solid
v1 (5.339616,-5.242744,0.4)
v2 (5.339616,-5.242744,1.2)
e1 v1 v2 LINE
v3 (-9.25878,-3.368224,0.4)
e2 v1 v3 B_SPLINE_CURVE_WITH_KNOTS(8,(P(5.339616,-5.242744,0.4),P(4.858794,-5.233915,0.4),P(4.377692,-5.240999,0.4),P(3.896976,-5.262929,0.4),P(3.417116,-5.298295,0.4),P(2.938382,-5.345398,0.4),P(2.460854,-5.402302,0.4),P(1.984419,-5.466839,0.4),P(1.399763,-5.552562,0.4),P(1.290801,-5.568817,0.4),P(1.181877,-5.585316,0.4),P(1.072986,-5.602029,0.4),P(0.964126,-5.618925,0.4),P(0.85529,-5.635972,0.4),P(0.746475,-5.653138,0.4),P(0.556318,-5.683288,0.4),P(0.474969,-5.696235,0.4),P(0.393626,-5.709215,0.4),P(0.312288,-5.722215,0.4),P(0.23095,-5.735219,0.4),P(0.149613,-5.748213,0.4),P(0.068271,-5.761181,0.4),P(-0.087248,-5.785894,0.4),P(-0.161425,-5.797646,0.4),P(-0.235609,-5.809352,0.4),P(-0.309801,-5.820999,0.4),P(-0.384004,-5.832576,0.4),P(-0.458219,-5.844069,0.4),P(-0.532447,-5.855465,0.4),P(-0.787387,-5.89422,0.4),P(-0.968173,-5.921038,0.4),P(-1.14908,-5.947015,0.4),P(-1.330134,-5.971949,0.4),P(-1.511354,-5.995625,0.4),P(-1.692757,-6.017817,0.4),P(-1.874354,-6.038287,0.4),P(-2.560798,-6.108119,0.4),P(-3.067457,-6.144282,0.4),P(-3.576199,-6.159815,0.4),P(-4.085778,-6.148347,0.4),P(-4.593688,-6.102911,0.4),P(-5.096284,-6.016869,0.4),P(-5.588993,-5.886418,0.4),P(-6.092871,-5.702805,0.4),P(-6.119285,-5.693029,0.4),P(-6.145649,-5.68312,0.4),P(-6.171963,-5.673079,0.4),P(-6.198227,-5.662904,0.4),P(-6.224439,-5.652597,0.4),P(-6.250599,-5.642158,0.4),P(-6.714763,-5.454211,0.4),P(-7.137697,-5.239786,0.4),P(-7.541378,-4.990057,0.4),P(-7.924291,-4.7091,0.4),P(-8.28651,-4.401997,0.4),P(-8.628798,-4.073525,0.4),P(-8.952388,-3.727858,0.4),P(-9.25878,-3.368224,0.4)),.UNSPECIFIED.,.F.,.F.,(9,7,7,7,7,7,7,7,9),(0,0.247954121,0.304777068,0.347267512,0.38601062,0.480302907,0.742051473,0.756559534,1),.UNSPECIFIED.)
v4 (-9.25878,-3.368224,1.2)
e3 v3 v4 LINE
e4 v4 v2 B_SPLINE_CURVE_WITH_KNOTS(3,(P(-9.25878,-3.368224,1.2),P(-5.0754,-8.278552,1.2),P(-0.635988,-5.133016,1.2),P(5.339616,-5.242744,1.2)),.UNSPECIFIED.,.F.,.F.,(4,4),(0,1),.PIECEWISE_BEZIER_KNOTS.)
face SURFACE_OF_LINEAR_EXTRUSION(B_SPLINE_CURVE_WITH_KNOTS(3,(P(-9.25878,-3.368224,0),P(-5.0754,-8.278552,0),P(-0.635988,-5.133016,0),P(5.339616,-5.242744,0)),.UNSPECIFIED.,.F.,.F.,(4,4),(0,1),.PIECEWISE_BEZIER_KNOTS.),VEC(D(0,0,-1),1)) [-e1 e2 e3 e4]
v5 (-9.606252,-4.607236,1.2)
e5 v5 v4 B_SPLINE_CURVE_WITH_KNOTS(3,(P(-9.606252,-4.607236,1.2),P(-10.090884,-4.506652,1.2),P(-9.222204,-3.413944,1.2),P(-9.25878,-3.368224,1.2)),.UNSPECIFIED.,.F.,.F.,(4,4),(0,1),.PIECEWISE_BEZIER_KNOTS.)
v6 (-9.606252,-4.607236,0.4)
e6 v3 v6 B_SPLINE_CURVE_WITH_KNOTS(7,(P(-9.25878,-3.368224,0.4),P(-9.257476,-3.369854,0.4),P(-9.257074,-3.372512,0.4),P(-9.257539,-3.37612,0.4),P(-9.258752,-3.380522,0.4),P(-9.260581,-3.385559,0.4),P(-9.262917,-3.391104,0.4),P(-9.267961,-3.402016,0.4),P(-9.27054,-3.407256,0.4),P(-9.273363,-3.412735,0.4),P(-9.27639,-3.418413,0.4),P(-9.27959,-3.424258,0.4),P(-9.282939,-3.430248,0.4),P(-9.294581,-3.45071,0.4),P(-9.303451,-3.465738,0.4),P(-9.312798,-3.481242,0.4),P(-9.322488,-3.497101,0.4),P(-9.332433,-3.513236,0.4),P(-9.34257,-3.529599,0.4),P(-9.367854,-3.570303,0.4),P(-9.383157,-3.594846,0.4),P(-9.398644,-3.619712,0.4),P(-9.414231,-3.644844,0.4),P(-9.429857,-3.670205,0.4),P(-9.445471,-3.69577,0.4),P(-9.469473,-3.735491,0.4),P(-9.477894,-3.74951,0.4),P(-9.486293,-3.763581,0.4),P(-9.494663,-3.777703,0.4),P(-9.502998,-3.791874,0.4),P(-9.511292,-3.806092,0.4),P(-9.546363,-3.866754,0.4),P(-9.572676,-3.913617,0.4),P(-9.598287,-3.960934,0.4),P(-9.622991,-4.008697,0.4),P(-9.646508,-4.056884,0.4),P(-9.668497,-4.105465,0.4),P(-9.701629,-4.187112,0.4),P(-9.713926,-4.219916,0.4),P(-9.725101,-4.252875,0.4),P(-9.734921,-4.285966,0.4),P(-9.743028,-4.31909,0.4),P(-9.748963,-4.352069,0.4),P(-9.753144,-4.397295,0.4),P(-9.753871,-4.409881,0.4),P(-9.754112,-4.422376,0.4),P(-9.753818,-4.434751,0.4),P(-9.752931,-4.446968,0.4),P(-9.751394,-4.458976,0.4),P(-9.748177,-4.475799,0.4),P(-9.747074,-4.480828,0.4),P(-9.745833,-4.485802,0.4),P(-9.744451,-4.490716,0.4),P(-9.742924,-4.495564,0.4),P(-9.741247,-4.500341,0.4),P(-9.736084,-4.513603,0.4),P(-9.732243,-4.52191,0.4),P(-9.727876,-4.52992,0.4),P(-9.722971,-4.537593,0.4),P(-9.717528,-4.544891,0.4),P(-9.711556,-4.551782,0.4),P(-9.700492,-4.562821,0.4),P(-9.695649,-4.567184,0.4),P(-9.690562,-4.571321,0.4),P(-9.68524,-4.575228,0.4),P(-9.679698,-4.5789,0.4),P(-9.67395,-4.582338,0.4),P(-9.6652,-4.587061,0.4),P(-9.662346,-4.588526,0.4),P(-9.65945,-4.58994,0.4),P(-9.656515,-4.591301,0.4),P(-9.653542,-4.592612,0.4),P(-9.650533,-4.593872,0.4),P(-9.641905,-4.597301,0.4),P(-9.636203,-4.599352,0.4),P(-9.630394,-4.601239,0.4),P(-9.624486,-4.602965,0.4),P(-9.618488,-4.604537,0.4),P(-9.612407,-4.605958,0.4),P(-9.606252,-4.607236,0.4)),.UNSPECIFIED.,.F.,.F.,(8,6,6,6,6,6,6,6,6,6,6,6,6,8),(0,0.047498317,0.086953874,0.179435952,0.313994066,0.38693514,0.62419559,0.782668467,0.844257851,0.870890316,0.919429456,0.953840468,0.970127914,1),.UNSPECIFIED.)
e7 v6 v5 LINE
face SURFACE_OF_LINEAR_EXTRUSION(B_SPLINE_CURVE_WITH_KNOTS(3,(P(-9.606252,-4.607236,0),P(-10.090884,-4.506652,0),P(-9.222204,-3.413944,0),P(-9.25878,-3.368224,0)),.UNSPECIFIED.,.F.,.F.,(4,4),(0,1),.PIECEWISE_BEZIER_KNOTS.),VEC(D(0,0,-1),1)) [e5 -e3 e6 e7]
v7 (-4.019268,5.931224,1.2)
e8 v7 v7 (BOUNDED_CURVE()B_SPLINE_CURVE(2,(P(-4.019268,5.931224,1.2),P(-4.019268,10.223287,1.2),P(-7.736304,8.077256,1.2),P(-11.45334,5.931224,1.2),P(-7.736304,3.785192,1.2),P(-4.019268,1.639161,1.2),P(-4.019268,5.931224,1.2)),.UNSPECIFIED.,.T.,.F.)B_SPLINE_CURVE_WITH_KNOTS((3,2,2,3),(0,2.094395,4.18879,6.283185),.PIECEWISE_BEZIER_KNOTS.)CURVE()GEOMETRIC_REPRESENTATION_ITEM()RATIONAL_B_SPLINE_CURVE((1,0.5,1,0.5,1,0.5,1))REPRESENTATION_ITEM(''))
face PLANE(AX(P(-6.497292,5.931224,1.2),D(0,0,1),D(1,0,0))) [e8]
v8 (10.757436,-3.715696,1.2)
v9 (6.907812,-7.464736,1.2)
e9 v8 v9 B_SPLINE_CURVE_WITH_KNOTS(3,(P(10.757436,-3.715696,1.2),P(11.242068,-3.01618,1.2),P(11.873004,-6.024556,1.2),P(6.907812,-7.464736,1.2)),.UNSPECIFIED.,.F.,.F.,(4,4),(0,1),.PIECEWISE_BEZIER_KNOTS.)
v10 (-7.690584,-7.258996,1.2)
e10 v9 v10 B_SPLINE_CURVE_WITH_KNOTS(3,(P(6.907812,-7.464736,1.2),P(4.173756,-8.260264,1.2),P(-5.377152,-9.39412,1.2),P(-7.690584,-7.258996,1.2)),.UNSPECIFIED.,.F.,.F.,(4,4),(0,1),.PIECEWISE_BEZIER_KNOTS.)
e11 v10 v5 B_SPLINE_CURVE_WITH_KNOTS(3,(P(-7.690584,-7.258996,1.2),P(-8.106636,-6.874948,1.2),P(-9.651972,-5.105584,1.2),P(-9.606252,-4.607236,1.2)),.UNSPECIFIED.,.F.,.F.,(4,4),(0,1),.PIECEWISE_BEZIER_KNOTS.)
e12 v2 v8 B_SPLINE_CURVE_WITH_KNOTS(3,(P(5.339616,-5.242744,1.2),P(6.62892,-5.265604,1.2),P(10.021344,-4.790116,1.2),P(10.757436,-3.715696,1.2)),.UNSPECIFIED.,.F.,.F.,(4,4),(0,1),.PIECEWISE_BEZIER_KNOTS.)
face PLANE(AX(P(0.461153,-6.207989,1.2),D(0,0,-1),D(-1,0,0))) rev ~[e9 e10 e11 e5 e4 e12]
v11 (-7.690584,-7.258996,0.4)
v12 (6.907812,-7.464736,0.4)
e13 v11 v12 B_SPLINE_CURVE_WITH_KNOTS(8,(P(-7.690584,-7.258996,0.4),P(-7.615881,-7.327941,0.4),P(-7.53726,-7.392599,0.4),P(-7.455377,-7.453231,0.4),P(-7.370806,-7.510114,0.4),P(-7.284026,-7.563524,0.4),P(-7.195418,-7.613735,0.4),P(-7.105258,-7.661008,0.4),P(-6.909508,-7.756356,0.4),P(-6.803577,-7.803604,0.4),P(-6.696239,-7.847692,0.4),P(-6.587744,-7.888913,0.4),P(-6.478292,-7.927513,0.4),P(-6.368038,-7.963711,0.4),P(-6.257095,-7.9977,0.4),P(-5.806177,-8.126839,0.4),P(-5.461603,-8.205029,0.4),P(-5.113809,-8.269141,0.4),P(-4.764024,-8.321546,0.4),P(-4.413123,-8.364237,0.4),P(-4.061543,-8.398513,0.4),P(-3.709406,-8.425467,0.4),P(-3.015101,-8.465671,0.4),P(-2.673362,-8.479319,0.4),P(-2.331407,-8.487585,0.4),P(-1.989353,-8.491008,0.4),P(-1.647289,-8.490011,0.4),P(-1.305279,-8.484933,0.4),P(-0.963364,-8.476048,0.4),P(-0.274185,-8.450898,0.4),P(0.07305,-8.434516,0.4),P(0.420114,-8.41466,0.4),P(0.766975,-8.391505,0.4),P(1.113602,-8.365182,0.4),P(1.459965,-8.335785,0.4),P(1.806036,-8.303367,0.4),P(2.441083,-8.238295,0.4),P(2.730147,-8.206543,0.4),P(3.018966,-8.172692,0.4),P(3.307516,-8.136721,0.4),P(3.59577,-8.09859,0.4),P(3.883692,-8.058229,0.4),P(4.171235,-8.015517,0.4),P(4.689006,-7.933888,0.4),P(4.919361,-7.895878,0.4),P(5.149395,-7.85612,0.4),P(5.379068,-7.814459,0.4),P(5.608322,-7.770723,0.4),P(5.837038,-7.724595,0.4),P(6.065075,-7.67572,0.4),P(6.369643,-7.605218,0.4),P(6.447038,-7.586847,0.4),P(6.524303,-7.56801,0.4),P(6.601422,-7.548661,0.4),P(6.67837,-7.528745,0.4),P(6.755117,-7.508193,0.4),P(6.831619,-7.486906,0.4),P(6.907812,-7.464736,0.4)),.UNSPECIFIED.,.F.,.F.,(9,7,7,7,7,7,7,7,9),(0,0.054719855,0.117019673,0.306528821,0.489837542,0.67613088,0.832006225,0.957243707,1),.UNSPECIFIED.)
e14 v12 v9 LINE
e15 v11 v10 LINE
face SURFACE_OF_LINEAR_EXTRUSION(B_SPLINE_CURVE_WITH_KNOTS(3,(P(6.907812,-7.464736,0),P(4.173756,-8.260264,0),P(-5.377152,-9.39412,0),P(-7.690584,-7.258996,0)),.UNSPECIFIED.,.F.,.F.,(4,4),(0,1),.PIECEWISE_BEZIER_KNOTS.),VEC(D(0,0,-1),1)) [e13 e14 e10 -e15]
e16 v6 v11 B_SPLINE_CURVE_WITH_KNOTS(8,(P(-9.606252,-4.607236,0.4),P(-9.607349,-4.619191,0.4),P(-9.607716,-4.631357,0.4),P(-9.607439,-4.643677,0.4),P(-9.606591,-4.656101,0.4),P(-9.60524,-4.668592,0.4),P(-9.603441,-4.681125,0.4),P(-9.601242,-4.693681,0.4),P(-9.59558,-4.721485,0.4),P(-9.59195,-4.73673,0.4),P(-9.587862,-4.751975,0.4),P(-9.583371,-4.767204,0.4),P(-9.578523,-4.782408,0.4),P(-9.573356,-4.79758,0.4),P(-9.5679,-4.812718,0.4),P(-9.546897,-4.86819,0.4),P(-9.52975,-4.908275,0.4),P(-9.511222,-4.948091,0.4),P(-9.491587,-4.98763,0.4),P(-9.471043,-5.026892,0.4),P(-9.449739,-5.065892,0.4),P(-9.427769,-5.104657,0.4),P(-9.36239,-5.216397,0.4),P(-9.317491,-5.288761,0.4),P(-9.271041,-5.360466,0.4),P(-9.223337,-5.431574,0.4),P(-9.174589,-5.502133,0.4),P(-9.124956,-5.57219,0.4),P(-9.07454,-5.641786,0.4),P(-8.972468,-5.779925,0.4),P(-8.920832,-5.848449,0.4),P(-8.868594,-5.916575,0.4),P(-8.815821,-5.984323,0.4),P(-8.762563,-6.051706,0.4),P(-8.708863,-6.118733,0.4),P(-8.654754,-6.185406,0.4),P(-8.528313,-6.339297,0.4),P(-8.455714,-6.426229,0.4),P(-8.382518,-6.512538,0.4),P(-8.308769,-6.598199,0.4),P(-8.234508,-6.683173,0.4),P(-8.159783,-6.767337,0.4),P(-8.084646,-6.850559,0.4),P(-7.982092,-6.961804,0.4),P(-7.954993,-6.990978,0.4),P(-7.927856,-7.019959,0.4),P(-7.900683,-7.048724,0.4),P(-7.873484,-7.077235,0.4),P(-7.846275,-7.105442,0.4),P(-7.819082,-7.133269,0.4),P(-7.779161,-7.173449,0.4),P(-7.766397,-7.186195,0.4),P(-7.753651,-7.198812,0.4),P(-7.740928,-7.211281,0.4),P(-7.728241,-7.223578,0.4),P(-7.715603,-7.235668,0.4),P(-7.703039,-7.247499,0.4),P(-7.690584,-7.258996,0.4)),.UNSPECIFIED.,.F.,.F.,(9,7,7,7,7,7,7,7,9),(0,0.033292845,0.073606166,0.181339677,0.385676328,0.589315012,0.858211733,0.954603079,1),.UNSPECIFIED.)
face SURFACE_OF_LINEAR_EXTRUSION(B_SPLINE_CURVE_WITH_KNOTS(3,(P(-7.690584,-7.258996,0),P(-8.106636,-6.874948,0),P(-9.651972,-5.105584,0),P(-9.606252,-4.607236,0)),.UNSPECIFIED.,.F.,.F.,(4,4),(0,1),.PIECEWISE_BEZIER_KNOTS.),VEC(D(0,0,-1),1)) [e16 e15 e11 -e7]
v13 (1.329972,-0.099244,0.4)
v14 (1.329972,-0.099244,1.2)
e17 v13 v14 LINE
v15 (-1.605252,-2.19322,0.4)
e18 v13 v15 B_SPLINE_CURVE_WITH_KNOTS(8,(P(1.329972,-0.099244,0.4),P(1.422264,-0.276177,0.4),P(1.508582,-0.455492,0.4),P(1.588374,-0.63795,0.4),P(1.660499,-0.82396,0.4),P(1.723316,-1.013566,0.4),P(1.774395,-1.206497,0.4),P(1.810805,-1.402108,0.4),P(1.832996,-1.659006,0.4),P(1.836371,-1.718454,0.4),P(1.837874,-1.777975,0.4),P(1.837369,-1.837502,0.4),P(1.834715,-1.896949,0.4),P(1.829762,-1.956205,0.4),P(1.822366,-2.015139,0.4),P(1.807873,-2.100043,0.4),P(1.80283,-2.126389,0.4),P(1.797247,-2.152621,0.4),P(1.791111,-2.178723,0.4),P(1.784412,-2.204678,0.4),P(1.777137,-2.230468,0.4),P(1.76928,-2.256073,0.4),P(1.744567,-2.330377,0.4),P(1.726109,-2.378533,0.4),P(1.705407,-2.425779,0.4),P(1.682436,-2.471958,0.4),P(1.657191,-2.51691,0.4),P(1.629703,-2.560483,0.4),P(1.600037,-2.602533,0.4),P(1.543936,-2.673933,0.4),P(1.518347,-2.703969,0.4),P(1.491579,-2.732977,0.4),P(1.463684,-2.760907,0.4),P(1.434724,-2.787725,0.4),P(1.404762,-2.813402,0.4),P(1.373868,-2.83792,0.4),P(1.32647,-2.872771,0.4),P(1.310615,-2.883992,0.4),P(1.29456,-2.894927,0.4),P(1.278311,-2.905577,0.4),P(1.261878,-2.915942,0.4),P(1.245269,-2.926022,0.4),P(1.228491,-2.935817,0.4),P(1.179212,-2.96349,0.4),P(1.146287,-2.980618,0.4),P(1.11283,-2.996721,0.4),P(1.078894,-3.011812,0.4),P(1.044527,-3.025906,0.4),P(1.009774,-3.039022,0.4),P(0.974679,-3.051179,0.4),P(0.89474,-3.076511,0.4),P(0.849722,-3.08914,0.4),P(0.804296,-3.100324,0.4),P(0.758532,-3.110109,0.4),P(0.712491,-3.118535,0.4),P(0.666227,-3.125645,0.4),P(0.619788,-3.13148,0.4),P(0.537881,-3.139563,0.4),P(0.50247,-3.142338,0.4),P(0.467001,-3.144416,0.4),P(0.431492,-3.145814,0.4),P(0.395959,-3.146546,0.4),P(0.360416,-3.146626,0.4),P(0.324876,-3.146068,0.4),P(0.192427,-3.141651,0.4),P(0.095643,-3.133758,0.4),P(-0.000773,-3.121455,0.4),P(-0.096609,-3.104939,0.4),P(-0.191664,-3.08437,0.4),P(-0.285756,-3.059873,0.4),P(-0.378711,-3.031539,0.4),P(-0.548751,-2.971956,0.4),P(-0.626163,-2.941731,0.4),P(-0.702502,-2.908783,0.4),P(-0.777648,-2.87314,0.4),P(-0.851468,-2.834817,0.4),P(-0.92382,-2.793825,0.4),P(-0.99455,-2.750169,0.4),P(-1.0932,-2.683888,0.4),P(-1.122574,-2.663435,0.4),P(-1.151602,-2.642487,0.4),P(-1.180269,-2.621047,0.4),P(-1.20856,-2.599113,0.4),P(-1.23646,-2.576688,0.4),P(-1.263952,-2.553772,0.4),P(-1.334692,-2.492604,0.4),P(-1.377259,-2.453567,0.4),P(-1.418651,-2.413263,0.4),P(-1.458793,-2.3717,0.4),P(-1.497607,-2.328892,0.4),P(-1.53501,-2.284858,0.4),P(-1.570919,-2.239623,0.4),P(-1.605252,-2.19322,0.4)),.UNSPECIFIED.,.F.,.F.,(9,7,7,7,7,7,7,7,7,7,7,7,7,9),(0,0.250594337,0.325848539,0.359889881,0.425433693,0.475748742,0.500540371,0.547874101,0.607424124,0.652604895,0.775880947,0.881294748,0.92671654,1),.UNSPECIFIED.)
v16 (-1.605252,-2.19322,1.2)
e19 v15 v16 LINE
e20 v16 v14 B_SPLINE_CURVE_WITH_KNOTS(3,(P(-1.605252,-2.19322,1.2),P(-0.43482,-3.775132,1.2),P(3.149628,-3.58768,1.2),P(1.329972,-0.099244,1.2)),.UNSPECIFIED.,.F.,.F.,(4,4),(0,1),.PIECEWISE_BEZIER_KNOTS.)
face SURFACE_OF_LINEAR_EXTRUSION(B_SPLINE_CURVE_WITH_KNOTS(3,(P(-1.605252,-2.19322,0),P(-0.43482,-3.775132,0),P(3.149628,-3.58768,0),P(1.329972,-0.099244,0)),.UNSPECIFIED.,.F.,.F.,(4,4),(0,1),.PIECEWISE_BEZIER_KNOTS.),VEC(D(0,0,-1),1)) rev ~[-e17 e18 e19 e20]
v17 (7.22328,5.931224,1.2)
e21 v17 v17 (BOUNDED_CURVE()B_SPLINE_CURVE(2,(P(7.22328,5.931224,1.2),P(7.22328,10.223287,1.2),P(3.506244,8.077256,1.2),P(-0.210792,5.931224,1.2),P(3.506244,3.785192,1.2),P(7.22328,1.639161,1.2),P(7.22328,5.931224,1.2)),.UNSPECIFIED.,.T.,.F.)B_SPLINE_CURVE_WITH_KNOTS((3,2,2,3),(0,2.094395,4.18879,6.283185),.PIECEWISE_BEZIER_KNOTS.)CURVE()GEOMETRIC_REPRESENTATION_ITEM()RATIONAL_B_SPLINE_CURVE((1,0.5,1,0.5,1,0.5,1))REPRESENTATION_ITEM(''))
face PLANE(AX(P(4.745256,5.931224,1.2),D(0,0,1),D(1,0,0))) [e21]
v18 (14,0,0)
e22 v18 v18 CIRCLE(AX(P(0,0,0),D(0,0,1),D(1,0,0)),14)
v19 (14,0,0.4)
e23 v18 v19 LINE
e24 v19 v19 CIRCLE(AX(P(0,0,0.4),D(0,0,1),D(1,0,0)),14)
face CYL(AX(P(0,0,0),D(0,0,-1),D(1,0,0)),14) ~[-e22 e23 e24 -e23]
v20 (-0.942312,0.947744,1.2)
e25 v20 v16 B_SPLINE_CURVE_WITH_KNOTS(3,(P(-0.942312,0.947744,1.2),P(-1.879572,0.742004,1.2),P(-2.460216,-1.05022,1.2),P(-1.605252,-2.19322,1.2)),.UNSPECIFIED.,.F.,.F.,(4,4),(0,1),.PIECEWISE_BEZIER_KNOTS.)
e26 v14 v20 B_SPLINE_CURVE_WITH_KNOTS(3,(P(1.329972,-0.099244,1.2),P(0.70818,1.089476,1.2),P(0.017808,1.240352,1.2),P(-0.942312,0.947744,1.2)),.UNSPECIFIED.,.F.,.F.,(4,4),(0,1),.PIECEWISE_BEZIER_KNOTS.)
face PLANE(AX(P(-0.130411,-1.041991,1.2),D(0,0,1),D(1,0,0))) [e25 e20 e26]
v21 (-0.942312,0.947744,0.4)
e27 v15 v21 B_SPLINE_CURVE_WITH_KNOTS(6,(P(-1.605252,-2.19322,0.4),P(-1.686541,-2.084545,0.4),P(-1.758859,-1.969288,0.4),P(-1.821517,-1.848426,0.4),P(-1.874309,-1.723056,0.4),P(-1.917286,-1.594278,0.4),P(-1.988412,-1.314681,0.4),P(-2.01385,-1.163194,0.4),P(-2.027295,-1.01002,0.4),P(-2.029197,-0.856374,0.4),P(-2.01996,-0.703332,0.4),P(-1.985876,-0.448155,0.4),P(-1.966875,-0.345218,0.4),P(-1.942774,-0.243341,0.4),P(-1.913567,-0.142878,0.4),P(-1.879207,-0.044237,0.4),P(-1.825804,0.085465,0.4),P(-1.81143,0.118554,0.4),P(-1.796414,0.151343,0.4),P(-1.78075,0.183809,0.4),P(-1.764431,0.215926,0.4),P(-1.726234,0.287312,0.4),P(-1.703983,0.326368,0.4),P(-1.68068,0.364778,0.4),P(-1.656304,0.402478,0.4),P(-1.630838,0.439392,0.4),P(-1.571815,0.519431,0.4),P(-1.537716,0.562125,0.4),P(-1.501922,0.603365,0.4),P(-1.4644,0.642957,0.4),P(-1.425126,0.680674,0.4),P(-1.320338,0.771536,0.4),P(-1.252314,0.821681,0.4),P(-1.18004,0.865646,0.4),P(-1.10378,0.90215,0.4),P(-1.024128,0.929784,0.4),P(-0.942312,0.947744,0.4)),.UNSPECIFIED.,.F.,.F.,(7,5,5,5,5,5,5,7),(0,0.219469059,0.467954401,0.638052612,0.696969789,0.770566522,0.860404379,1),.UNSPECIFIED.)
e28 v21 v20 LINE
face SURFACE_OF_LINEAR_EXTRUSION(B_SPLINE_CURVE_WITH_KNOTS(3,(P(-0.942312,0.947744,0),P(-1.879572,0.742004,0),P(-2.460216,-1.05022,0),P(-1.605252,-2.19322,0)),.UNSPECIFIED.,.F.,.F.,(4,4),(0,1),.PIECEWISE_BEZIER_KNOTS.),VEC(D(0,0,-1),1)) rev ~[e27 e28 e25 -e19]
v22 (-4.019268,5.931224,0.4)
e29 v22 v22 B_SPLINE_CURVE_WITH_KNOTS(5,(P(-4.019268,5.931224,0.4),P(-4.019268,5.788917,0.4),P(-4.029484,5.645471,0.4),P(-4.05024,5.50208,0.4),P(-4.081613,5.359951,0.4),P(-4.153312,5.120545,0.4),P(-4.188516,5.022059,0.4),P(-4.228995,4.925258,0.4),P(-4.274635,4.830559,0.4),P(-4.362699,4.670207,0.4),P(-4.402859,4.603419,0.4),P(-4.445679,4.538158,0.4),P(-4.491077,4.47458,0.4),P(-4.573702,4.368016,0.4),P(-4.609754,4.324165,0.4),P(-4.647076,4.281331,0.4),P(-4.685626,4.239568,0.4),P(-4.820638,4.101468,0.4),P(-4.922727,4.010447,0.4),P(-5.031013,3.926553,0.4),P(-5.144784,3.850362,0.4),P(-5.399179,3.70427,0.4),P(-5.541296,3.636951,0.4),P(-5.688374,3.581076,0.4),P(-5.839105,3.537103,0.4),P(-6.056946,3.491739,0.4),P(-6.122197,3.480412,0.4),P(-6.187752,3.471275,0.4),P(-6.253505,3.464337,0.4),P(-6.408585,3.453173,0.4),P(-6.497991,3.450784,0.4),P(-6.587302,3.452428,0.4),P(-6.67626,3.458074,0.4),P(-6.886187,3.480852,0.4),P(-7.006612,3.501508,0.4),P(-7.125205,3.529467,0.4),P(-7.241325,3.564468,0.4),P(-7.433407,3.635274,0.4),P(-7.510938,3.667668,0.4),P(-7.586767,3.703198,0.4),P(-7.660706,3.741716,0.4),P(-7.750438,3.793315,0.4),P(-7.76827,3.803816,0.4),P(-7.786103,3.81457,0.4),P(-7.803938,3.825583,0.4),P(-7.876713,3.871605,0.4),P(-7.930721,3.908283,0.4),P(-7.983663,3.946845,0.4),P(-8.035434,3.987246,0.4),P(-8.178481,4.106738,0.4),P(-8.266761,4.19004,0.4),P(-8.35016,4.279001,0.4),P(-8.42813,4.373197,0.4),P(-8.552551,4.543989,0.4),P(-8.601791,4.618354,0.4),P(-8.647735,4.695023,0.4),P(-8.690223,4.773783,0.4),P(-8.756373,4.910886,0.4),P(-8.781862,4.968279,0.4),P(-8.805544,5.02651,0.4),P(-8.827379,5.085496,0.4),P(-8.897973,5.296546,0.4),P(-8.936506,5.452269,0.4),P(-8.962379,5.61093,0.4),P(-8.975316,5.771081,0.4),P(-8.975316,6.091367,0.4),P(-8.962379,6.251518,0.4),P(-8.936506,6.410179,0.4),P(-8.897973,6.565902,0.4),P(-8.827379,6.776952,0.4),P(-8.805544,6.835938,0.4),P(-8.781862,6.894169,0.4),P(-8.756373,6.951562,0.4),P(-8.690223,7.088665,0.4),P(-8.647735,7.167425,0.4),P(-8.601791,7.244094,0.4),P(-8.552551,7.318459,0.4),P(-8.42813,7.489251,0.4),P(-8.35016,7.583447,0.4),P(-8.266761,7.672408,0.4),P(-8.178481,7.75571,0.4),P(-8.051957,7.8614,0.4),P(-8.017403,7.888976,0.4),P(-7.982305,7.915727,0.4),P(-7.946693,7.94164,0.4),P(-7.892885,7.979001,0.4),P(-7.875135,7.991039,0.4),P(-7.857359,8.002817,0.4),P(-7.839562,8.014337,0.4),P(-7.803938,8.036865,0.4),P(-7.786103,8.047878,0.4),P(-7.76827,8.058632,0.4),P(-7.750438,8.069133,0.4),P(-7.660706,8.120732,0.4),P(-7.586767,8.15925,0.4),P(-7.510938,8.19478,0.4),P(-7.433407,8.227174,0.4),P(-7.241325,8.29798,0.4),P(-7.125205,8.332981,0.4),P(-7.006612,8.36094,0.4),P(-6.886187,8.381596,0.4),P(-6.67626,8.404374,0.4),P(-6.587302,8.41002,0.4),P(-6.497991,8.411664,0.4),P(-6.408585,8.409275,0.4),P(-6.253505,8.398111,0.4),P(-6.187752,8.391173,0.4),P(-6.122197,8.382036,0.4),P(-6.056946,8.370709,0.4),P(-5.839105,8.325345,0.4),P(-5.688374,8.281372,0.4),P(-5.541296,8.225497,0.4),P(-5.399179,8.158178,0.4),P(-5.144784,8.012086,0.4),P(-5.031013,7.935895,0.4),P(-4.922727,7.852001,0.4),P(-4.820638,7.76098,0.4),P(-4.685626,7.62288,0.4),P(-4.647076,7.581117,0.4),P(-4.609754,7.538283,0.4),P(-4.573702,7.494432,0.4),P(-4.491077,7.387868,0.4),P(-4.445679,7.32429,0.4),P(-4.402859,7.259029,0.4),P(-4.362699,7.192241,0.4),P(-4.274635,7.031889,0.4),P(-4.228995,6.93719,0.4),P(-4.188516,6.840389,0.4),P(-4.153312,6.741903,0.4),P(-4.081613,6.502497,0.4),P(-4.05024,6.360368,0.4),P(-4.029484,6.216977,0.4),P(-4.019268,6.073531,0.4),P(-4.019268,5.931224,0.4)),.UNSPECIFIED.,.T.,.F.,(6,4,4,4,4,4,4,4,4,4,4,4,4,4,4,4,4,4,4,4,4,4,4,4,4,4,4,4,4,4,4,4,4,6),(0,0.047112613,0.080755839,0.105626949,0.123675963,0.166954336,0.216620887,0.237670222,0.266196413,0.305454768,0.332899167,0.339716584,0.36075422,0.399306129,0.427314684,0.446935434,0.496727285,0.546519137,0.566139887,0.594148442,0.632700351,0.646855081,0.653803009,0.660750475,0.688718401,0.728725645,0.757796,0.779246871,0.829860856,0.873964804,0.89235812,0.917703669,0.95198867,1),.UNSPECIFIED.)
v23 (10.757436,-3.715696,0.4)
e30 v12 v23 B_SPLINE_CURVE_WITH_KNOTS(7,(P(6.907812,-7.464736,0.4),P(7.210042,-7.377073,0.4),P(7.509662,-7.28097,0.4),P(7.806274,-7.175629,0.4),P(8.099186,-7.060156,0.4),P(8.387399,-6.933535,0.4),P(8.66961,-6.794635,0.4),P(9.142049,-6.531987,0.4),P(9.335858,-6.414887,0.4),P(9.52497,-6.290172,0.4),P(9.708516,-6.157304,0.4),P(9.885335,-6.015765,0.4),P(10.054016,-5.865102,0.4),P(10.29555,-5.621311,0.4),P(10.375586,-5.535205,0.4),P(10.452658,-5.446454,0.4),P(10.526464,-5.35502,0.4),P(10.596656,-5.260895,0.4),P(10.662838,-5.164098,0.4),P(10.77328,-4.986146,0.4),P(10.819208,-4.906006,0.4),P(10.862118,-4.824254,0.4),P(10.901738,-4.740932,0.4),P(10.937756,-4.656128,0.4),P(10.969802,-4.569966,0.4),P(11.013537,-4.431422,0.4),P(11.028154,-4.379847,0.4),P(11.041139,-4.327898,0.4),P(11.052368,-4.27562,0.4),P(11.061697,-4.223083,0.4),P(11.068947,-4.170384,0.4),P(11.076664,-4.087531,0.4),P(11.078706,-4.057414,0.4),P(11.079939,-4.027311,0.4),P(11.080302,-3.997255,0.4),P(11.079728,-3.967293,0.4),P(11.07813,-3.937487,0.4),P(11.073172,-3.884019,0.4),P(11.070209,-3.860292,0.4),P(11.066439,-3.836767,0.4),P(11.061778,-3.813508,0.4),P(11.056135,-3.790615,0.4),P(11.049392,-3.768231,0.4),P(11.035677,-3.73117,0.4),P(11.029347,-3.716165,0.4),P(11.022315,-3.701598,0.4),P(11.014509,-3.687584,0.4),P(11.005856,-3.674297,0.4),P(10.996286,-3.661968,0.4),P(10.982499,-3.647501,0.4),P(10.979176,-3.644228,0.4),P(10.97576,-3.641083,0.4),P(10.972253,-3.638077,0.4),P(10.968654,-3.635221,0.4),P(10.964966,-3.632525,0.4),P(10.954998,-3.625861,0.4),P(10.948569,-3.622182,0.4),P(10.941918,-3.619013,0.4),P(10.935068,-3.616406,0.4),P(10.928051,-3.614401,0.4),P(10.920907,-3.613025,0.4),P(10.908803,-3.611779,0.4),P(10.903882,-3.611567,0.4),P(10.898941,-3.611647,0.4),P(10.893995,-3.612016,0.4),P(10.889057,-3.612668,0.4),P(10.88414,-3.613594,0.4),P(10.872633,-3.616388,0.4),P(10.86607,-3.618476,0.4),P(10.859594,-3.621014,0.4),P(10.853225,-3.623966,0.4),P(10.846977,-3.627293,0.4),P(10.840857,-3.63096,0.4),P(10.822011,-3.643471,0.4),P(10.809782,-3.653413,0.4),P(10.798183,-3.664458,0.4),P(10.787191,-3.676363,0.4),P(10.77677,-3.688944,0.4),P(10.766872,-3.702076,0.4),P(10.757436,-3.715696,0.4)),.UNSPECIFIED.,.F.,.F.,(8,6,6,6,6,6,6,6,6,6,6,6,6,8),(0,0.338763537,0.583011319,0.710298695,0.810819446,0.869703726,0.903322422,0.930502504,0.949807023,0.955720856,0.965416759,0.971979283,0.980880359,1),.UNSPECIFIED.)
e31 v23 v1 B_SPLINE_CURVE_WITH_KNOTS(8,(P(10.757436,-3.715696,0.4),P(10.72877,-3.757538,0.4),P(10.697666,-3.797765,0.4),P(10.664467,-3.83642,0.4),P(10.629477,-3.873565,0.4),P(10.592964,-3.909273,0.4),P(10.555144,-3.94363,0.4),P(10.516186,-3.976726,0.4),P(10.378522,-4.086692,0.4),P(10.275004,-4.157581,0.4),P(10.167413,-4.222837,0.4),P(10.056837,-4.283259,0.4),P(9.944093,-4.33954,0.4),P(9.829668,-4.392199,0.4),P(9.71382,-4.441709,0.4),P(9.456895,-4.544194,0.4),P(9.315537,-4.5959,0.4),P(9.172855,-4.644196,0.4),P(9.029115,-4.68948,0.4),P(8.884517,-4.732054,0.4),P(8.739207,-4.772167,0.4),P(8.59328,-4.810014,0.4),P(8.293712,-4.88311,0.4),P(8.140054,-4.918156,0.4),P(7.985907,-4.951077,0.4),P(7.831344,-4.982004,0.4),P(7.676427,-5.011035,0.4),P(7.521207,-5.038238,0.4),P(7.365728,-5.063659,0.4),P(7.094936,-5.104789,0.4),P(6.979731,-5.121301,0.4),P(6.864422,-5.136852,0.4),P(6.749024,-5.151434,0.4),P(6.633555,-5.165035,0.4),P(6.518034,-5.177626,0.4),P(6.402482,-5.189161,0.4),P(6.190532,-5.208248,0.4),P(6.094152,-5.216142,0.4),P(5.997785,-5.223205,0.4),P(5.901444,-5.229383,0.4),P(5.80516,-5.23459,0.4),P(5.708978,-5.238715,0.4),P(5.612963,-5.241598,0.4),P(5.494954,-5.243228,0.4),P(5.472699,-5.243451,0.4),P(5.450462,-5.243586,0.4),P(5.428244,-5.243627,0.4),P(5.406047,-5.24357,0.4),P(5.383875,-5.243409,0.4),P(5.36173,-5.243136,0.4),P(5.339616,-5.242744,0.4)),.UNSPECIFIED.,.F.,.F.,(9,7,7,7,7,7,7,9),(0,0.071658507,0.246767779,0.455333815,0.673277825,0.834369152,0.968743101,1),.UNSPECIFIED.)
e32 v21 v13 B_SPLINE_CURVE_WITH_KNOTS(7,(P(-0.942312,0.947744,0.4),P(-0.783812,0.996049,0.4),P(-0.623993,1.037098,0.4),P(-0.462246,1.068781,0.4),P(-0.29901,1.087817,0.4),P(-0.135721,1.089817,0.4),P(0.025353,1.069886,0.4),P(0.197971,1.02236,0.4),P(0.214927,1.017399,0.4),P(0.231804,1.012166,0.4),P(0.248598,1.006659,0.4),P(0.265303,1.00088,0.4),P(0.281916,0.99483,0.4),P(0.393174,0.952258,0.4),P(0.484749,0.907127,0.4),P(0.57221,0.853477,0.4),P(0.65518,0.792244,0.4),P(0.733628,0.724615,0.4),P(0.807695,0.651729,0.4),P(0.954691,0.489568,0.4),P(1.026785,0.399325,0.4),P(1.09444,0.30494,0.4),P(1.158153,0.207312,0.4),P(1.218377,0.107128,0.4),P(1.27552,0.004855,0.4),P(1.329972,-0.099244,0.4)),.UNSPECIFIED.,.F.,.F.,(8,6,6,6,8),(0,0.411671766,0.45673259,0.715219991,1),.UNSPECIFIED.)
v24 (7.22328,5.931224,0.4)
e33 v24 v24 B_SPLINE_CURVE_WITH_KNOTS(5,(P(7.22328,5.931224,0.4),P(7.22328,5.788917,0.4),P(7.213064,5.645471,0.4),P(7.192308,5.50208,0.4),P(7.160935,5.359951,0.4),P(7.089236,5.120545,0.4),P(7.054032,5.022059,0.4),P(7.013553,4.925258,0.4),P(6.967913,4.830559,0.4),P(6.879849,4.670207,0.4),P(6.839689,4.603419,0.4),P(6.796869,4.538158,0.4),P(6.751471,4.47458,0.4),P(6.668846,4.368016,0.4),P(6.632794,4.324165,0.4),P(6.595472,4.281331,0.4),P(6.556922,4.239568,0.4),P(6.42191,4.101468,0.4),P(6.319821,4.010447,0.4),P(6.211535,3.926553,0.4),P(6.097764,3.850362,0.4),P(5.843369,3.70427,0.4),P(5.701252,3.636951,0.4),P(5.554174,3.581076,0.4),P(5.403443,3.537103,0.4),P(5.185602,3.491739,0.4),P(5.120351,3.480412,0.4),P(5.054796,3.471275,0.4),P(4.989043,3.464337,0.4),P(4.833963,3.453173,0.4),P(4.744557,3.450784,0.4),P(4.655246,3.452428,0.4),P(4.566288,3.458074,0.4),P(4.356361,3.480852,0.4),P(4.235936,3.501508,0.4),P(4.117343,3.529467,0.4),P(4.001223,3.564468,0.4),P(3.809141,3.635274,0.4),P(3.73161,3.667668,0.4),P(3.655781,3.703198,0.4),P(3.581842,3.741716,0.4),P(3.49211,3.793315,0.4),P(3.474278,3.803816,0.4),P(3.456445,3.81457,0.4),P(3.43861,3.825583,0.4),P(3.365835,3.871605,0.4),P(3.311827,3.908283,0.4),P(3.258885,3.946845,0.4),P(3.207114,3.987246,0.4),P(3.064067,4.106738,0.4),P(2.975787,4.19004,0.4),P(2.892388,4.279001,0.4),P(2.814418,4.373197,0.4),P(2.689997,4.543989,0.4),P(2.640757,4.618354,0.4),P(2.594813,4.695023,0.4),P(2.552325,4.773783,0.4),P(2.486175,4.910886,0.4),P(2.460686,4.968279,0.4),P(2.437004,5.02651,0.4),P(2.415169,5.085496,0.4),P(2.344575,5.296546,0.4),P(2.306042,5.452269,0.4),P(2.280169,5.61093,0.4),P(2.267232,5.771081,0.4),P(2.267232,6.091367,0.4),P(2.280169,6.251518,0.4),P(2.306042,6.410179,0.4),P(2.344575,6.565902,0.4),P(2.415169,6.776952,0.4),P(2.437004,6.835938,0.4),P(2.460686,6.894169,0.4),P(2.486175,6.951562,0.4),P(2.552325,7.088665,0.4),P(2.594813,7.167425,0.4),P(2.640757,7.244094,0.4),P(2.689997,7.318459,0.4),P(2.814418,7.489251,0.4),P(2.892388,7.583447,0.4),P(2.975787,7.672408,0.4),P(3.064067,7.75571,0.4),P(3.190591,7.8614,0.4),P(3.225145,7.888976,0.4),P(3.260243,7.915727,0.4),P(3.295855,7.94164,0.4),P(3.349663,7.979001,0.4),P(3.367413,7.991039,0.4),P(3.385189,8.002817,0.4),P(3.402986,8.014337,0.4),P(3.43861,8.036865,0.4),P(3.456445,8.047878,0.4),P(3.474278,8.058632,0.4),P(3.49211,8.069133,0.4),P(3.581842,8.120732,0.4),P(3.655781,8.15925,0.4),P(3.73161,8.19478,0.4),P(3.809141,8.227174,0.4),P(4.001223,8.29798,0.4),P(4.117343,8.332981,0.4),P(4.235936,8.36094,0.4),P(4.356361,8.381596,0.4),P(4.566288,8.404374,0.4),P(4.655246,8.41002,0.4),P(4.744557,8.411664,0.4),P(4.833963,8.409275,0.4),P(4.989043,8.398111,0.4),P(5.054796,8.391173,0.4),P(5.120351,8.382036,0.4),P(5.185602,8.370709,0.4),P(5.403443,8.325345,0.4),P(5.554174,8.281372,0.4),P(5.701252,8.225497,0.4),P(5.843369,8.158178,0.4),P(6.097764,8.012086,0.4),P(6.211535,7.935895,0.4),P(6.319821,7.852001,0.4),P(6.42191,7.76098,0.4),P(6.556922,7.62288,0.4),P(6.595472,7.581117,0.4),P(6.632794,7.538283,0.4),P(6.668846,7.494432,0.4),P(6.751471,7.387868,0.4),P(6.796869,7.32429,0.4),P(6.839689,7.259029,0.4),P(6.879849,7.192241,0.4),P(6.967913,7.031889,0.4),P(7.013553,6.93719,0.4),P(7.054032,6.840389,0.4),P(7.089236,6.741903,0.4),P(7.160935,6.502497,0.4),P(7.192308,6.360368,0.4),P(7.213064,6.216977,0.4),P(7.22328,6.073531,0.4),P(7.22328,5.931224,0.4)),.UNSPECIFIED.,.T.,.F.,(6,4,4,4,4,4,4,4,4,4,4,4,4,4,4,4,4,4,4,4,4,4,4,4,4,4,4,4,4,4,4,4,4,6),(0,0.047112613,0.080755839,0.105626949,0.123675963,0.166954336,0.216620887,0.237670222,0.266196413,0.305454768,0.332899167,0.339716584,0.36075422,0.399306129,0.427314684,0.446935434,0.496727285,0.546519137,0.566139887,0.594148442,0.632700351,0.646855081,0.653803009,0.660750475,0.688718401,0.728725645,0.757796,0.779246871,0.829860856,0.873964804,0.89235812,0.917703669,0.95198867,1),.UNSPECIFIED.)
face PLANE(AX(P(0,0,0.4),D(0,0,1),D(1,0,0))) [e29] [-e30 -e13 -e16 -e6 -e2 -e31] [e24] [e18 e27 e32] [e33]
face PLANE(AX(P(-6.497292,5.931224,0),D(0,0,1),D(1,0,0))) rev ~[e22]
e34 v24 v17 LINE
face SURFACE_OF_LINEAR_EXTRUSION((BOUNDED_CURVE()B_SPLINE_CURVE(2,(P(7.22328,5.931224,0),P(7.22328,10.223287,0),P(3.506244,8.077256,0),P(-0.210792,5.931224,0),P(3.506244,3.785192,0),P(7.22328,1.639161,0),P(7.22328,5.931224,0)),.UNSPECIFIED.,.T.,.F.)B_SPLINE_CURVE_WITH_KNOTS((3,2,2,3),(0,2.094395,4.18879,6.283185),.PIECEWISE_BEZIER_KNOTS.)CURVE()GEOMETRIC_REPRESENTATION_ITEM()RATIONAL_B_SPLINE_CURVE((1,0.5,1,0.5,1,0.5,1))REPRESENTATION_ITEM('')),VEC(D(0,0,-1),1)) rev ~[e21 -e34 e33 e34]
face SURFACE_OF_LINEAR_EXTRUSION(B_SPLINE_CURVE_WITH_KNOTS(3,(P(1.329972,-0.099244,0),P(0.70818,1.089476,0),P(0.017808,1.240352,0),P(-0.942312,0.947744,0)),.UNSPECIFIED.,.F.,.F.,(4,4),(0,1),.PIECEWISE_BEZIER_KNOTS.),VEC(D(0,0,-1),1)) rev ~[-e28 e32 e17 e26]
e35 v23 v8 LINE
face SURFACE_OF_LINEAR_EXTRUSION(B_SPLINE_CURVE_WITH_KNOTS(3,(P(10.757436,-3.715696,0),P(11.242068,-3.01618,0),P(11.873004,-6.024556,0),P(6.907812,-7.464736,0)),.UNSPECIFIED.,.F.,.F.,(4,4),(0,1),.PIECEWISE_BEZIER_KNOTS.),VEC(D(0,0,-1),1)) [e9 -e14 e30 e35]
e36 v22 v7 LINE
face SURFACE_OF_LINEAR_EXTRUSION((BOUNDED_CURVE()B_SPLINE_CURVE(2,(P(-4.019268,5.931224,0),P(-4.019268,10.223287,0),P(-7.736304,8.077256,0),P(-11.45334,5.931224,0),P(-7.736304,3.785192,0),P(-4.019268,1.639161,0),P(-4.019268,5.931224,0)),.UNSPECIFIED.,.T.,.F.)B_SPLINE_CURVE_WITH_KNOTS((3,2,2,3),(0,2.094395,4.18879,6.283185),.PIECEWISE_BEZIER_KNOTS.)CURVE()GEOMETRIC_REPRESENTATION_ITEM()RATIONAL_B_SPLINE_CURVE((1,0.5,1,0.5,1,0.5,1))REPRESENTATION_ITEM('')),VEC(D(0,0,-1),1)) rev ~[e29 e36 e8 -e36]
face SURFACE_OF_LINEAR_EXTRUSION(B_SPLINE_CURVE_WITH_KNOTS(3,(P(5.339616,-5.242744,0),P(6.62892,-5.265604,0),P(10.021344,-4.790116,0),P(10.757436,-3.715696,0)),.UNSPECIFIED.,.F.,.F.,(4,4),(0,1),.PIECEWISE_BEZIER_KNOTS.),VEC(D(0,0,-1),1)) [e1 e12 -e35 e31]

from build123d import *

# Parameters (mm, degrees)
SKETCH_R     = 14
PAD_DEPTH    = 0.4
PAD001_DEPTH = 1.2


with BuildPart() as part:
    # Sketch → Pad (new body)
    with BuildSketch(Plane.XY):
        Circle(SKETCH_R)
    extrude(amount=PAD_DEPTH)

    # Clone2D → Pad001 (join)
    with BuildSketch(Plane(origin=(-15.3624, 20.0267, 0), x_dir=(1, 0, 0), z_dir=(0, 0, 1))):
        with BuildLine():
            add(Edge.make_bspline(
                [(11.343132, -14.095476), (11.343132, -9.803413), (7.626096, -11.949444), (3.90906, -14.095476), (7.626096, -16.241508), (11.343132, -18.387539), (11.343132, -14.095476)],
                knots=[0, 0, 0, 2.094395, 2.094395, 4.18879, 4.18879, 6.283185, 6.283185, 6.283185], degree=2, weights=[1, 0.5, 1, 0.5, 1, 0.5, 1]))
        make_face()
        with BuildLine():
            add(Edge.make_bspline(
                [(14.420088, -19.078956), (13.482828, -19.284696), (12.902184, -21.07692), (13.757148, -22.21992)],
                knots=[0, 0, 0, 0, 1, 1, 1, 1], degree=3))
            add(Edge.make_bspline(
                [(13.757148, -22.21992), (14.92758, -23.801832), (18.512028, -23.61438), (16.692372, -20.125944)],
                knots=[0, 0, 0, 0, 1, 1, 1, 1], degree=3))
            add(Edge.make_bspline(
                [(16.692372, -20.125944), (16.07058, -18.937224), (15.380208, -18.786348), (14.420088, -19.078956)],
                knots=[0, 0, 0, 0, 1, 1, 1, 1], degree=3))
        make_face()
        with BuildLine():
            add(Edge.make_bspline(
                [(22.58568, -14.095476), (22.58568, -9.803413), (18.868644, -11.949444), (15.151608, -14.095476), (18.868644, -16.241508), (22.58568, -18.387539), (22.58568, -14.095476)],
                knots=[0, 0, 0, 2.094395, 2.094395, 4.18879, 4.18879, 6.283185, 6.283185, 6.283185], degree=2, weights=[1, 0.5, 1, 0.5, 1, 0.5, 1]))
        make_face()
        with BuildLine():
            add(Edge.make_bspline(
                [(6.10362, -23.394924), (10.287, -28.305252), (14.726412, -25.159716), (20.702016, -25.269444)],
                knots=[0, 0, 0, 0, 1, 1, 1, 1], degree=3))
            add(Edge.make_bspline(
                [(20.702016, -25.269444), (21.99132, -25.292304), (25.383744, -24.816816), (26.119836, -23.742396)],
                knots=[0, 0, 0, 0, 1, 1, 1, 1], degree=3))
            add(Edge.make_bspline(
                [(26.119836, -23.742396), (26.604468, -23.04288), (27.235404, -26.051256), (22.270212, -27.491436)],
                knots=[0, 0, 0, 0, 1, 1, 1, 1], degree=3))
            add(Edge.make_bspline(
                [(22.270212, -27.491436), (19.536156, -28.286964), (9.985248, -29.42082), (7.671816, -27.285696)],
                knots=[0, 0, 0, 0, 1, 1, 1, 1], degree=3))
            add(Edge.make_bspline(
                [(7.671816, -27.285696), (7.255764, -26.901648), (5.710428, -25.132284), (5.756148, -24.633936)],
                knots=[0, 0, 0, 0, 1, 1, 1, 1], degree=3))
            add(Edge.make_bspline(
                [(5.756148, -24.633936), (5.271516, -24.533352), (6.140196, -23.440644), (6.10362, -23.394924)],
                knots=[0, 0, 0, 0, 1, 1, 1, 1], degree=3))
        make_face()
    extrude(amount=PAD001_DEPTH)


solid = part.part
